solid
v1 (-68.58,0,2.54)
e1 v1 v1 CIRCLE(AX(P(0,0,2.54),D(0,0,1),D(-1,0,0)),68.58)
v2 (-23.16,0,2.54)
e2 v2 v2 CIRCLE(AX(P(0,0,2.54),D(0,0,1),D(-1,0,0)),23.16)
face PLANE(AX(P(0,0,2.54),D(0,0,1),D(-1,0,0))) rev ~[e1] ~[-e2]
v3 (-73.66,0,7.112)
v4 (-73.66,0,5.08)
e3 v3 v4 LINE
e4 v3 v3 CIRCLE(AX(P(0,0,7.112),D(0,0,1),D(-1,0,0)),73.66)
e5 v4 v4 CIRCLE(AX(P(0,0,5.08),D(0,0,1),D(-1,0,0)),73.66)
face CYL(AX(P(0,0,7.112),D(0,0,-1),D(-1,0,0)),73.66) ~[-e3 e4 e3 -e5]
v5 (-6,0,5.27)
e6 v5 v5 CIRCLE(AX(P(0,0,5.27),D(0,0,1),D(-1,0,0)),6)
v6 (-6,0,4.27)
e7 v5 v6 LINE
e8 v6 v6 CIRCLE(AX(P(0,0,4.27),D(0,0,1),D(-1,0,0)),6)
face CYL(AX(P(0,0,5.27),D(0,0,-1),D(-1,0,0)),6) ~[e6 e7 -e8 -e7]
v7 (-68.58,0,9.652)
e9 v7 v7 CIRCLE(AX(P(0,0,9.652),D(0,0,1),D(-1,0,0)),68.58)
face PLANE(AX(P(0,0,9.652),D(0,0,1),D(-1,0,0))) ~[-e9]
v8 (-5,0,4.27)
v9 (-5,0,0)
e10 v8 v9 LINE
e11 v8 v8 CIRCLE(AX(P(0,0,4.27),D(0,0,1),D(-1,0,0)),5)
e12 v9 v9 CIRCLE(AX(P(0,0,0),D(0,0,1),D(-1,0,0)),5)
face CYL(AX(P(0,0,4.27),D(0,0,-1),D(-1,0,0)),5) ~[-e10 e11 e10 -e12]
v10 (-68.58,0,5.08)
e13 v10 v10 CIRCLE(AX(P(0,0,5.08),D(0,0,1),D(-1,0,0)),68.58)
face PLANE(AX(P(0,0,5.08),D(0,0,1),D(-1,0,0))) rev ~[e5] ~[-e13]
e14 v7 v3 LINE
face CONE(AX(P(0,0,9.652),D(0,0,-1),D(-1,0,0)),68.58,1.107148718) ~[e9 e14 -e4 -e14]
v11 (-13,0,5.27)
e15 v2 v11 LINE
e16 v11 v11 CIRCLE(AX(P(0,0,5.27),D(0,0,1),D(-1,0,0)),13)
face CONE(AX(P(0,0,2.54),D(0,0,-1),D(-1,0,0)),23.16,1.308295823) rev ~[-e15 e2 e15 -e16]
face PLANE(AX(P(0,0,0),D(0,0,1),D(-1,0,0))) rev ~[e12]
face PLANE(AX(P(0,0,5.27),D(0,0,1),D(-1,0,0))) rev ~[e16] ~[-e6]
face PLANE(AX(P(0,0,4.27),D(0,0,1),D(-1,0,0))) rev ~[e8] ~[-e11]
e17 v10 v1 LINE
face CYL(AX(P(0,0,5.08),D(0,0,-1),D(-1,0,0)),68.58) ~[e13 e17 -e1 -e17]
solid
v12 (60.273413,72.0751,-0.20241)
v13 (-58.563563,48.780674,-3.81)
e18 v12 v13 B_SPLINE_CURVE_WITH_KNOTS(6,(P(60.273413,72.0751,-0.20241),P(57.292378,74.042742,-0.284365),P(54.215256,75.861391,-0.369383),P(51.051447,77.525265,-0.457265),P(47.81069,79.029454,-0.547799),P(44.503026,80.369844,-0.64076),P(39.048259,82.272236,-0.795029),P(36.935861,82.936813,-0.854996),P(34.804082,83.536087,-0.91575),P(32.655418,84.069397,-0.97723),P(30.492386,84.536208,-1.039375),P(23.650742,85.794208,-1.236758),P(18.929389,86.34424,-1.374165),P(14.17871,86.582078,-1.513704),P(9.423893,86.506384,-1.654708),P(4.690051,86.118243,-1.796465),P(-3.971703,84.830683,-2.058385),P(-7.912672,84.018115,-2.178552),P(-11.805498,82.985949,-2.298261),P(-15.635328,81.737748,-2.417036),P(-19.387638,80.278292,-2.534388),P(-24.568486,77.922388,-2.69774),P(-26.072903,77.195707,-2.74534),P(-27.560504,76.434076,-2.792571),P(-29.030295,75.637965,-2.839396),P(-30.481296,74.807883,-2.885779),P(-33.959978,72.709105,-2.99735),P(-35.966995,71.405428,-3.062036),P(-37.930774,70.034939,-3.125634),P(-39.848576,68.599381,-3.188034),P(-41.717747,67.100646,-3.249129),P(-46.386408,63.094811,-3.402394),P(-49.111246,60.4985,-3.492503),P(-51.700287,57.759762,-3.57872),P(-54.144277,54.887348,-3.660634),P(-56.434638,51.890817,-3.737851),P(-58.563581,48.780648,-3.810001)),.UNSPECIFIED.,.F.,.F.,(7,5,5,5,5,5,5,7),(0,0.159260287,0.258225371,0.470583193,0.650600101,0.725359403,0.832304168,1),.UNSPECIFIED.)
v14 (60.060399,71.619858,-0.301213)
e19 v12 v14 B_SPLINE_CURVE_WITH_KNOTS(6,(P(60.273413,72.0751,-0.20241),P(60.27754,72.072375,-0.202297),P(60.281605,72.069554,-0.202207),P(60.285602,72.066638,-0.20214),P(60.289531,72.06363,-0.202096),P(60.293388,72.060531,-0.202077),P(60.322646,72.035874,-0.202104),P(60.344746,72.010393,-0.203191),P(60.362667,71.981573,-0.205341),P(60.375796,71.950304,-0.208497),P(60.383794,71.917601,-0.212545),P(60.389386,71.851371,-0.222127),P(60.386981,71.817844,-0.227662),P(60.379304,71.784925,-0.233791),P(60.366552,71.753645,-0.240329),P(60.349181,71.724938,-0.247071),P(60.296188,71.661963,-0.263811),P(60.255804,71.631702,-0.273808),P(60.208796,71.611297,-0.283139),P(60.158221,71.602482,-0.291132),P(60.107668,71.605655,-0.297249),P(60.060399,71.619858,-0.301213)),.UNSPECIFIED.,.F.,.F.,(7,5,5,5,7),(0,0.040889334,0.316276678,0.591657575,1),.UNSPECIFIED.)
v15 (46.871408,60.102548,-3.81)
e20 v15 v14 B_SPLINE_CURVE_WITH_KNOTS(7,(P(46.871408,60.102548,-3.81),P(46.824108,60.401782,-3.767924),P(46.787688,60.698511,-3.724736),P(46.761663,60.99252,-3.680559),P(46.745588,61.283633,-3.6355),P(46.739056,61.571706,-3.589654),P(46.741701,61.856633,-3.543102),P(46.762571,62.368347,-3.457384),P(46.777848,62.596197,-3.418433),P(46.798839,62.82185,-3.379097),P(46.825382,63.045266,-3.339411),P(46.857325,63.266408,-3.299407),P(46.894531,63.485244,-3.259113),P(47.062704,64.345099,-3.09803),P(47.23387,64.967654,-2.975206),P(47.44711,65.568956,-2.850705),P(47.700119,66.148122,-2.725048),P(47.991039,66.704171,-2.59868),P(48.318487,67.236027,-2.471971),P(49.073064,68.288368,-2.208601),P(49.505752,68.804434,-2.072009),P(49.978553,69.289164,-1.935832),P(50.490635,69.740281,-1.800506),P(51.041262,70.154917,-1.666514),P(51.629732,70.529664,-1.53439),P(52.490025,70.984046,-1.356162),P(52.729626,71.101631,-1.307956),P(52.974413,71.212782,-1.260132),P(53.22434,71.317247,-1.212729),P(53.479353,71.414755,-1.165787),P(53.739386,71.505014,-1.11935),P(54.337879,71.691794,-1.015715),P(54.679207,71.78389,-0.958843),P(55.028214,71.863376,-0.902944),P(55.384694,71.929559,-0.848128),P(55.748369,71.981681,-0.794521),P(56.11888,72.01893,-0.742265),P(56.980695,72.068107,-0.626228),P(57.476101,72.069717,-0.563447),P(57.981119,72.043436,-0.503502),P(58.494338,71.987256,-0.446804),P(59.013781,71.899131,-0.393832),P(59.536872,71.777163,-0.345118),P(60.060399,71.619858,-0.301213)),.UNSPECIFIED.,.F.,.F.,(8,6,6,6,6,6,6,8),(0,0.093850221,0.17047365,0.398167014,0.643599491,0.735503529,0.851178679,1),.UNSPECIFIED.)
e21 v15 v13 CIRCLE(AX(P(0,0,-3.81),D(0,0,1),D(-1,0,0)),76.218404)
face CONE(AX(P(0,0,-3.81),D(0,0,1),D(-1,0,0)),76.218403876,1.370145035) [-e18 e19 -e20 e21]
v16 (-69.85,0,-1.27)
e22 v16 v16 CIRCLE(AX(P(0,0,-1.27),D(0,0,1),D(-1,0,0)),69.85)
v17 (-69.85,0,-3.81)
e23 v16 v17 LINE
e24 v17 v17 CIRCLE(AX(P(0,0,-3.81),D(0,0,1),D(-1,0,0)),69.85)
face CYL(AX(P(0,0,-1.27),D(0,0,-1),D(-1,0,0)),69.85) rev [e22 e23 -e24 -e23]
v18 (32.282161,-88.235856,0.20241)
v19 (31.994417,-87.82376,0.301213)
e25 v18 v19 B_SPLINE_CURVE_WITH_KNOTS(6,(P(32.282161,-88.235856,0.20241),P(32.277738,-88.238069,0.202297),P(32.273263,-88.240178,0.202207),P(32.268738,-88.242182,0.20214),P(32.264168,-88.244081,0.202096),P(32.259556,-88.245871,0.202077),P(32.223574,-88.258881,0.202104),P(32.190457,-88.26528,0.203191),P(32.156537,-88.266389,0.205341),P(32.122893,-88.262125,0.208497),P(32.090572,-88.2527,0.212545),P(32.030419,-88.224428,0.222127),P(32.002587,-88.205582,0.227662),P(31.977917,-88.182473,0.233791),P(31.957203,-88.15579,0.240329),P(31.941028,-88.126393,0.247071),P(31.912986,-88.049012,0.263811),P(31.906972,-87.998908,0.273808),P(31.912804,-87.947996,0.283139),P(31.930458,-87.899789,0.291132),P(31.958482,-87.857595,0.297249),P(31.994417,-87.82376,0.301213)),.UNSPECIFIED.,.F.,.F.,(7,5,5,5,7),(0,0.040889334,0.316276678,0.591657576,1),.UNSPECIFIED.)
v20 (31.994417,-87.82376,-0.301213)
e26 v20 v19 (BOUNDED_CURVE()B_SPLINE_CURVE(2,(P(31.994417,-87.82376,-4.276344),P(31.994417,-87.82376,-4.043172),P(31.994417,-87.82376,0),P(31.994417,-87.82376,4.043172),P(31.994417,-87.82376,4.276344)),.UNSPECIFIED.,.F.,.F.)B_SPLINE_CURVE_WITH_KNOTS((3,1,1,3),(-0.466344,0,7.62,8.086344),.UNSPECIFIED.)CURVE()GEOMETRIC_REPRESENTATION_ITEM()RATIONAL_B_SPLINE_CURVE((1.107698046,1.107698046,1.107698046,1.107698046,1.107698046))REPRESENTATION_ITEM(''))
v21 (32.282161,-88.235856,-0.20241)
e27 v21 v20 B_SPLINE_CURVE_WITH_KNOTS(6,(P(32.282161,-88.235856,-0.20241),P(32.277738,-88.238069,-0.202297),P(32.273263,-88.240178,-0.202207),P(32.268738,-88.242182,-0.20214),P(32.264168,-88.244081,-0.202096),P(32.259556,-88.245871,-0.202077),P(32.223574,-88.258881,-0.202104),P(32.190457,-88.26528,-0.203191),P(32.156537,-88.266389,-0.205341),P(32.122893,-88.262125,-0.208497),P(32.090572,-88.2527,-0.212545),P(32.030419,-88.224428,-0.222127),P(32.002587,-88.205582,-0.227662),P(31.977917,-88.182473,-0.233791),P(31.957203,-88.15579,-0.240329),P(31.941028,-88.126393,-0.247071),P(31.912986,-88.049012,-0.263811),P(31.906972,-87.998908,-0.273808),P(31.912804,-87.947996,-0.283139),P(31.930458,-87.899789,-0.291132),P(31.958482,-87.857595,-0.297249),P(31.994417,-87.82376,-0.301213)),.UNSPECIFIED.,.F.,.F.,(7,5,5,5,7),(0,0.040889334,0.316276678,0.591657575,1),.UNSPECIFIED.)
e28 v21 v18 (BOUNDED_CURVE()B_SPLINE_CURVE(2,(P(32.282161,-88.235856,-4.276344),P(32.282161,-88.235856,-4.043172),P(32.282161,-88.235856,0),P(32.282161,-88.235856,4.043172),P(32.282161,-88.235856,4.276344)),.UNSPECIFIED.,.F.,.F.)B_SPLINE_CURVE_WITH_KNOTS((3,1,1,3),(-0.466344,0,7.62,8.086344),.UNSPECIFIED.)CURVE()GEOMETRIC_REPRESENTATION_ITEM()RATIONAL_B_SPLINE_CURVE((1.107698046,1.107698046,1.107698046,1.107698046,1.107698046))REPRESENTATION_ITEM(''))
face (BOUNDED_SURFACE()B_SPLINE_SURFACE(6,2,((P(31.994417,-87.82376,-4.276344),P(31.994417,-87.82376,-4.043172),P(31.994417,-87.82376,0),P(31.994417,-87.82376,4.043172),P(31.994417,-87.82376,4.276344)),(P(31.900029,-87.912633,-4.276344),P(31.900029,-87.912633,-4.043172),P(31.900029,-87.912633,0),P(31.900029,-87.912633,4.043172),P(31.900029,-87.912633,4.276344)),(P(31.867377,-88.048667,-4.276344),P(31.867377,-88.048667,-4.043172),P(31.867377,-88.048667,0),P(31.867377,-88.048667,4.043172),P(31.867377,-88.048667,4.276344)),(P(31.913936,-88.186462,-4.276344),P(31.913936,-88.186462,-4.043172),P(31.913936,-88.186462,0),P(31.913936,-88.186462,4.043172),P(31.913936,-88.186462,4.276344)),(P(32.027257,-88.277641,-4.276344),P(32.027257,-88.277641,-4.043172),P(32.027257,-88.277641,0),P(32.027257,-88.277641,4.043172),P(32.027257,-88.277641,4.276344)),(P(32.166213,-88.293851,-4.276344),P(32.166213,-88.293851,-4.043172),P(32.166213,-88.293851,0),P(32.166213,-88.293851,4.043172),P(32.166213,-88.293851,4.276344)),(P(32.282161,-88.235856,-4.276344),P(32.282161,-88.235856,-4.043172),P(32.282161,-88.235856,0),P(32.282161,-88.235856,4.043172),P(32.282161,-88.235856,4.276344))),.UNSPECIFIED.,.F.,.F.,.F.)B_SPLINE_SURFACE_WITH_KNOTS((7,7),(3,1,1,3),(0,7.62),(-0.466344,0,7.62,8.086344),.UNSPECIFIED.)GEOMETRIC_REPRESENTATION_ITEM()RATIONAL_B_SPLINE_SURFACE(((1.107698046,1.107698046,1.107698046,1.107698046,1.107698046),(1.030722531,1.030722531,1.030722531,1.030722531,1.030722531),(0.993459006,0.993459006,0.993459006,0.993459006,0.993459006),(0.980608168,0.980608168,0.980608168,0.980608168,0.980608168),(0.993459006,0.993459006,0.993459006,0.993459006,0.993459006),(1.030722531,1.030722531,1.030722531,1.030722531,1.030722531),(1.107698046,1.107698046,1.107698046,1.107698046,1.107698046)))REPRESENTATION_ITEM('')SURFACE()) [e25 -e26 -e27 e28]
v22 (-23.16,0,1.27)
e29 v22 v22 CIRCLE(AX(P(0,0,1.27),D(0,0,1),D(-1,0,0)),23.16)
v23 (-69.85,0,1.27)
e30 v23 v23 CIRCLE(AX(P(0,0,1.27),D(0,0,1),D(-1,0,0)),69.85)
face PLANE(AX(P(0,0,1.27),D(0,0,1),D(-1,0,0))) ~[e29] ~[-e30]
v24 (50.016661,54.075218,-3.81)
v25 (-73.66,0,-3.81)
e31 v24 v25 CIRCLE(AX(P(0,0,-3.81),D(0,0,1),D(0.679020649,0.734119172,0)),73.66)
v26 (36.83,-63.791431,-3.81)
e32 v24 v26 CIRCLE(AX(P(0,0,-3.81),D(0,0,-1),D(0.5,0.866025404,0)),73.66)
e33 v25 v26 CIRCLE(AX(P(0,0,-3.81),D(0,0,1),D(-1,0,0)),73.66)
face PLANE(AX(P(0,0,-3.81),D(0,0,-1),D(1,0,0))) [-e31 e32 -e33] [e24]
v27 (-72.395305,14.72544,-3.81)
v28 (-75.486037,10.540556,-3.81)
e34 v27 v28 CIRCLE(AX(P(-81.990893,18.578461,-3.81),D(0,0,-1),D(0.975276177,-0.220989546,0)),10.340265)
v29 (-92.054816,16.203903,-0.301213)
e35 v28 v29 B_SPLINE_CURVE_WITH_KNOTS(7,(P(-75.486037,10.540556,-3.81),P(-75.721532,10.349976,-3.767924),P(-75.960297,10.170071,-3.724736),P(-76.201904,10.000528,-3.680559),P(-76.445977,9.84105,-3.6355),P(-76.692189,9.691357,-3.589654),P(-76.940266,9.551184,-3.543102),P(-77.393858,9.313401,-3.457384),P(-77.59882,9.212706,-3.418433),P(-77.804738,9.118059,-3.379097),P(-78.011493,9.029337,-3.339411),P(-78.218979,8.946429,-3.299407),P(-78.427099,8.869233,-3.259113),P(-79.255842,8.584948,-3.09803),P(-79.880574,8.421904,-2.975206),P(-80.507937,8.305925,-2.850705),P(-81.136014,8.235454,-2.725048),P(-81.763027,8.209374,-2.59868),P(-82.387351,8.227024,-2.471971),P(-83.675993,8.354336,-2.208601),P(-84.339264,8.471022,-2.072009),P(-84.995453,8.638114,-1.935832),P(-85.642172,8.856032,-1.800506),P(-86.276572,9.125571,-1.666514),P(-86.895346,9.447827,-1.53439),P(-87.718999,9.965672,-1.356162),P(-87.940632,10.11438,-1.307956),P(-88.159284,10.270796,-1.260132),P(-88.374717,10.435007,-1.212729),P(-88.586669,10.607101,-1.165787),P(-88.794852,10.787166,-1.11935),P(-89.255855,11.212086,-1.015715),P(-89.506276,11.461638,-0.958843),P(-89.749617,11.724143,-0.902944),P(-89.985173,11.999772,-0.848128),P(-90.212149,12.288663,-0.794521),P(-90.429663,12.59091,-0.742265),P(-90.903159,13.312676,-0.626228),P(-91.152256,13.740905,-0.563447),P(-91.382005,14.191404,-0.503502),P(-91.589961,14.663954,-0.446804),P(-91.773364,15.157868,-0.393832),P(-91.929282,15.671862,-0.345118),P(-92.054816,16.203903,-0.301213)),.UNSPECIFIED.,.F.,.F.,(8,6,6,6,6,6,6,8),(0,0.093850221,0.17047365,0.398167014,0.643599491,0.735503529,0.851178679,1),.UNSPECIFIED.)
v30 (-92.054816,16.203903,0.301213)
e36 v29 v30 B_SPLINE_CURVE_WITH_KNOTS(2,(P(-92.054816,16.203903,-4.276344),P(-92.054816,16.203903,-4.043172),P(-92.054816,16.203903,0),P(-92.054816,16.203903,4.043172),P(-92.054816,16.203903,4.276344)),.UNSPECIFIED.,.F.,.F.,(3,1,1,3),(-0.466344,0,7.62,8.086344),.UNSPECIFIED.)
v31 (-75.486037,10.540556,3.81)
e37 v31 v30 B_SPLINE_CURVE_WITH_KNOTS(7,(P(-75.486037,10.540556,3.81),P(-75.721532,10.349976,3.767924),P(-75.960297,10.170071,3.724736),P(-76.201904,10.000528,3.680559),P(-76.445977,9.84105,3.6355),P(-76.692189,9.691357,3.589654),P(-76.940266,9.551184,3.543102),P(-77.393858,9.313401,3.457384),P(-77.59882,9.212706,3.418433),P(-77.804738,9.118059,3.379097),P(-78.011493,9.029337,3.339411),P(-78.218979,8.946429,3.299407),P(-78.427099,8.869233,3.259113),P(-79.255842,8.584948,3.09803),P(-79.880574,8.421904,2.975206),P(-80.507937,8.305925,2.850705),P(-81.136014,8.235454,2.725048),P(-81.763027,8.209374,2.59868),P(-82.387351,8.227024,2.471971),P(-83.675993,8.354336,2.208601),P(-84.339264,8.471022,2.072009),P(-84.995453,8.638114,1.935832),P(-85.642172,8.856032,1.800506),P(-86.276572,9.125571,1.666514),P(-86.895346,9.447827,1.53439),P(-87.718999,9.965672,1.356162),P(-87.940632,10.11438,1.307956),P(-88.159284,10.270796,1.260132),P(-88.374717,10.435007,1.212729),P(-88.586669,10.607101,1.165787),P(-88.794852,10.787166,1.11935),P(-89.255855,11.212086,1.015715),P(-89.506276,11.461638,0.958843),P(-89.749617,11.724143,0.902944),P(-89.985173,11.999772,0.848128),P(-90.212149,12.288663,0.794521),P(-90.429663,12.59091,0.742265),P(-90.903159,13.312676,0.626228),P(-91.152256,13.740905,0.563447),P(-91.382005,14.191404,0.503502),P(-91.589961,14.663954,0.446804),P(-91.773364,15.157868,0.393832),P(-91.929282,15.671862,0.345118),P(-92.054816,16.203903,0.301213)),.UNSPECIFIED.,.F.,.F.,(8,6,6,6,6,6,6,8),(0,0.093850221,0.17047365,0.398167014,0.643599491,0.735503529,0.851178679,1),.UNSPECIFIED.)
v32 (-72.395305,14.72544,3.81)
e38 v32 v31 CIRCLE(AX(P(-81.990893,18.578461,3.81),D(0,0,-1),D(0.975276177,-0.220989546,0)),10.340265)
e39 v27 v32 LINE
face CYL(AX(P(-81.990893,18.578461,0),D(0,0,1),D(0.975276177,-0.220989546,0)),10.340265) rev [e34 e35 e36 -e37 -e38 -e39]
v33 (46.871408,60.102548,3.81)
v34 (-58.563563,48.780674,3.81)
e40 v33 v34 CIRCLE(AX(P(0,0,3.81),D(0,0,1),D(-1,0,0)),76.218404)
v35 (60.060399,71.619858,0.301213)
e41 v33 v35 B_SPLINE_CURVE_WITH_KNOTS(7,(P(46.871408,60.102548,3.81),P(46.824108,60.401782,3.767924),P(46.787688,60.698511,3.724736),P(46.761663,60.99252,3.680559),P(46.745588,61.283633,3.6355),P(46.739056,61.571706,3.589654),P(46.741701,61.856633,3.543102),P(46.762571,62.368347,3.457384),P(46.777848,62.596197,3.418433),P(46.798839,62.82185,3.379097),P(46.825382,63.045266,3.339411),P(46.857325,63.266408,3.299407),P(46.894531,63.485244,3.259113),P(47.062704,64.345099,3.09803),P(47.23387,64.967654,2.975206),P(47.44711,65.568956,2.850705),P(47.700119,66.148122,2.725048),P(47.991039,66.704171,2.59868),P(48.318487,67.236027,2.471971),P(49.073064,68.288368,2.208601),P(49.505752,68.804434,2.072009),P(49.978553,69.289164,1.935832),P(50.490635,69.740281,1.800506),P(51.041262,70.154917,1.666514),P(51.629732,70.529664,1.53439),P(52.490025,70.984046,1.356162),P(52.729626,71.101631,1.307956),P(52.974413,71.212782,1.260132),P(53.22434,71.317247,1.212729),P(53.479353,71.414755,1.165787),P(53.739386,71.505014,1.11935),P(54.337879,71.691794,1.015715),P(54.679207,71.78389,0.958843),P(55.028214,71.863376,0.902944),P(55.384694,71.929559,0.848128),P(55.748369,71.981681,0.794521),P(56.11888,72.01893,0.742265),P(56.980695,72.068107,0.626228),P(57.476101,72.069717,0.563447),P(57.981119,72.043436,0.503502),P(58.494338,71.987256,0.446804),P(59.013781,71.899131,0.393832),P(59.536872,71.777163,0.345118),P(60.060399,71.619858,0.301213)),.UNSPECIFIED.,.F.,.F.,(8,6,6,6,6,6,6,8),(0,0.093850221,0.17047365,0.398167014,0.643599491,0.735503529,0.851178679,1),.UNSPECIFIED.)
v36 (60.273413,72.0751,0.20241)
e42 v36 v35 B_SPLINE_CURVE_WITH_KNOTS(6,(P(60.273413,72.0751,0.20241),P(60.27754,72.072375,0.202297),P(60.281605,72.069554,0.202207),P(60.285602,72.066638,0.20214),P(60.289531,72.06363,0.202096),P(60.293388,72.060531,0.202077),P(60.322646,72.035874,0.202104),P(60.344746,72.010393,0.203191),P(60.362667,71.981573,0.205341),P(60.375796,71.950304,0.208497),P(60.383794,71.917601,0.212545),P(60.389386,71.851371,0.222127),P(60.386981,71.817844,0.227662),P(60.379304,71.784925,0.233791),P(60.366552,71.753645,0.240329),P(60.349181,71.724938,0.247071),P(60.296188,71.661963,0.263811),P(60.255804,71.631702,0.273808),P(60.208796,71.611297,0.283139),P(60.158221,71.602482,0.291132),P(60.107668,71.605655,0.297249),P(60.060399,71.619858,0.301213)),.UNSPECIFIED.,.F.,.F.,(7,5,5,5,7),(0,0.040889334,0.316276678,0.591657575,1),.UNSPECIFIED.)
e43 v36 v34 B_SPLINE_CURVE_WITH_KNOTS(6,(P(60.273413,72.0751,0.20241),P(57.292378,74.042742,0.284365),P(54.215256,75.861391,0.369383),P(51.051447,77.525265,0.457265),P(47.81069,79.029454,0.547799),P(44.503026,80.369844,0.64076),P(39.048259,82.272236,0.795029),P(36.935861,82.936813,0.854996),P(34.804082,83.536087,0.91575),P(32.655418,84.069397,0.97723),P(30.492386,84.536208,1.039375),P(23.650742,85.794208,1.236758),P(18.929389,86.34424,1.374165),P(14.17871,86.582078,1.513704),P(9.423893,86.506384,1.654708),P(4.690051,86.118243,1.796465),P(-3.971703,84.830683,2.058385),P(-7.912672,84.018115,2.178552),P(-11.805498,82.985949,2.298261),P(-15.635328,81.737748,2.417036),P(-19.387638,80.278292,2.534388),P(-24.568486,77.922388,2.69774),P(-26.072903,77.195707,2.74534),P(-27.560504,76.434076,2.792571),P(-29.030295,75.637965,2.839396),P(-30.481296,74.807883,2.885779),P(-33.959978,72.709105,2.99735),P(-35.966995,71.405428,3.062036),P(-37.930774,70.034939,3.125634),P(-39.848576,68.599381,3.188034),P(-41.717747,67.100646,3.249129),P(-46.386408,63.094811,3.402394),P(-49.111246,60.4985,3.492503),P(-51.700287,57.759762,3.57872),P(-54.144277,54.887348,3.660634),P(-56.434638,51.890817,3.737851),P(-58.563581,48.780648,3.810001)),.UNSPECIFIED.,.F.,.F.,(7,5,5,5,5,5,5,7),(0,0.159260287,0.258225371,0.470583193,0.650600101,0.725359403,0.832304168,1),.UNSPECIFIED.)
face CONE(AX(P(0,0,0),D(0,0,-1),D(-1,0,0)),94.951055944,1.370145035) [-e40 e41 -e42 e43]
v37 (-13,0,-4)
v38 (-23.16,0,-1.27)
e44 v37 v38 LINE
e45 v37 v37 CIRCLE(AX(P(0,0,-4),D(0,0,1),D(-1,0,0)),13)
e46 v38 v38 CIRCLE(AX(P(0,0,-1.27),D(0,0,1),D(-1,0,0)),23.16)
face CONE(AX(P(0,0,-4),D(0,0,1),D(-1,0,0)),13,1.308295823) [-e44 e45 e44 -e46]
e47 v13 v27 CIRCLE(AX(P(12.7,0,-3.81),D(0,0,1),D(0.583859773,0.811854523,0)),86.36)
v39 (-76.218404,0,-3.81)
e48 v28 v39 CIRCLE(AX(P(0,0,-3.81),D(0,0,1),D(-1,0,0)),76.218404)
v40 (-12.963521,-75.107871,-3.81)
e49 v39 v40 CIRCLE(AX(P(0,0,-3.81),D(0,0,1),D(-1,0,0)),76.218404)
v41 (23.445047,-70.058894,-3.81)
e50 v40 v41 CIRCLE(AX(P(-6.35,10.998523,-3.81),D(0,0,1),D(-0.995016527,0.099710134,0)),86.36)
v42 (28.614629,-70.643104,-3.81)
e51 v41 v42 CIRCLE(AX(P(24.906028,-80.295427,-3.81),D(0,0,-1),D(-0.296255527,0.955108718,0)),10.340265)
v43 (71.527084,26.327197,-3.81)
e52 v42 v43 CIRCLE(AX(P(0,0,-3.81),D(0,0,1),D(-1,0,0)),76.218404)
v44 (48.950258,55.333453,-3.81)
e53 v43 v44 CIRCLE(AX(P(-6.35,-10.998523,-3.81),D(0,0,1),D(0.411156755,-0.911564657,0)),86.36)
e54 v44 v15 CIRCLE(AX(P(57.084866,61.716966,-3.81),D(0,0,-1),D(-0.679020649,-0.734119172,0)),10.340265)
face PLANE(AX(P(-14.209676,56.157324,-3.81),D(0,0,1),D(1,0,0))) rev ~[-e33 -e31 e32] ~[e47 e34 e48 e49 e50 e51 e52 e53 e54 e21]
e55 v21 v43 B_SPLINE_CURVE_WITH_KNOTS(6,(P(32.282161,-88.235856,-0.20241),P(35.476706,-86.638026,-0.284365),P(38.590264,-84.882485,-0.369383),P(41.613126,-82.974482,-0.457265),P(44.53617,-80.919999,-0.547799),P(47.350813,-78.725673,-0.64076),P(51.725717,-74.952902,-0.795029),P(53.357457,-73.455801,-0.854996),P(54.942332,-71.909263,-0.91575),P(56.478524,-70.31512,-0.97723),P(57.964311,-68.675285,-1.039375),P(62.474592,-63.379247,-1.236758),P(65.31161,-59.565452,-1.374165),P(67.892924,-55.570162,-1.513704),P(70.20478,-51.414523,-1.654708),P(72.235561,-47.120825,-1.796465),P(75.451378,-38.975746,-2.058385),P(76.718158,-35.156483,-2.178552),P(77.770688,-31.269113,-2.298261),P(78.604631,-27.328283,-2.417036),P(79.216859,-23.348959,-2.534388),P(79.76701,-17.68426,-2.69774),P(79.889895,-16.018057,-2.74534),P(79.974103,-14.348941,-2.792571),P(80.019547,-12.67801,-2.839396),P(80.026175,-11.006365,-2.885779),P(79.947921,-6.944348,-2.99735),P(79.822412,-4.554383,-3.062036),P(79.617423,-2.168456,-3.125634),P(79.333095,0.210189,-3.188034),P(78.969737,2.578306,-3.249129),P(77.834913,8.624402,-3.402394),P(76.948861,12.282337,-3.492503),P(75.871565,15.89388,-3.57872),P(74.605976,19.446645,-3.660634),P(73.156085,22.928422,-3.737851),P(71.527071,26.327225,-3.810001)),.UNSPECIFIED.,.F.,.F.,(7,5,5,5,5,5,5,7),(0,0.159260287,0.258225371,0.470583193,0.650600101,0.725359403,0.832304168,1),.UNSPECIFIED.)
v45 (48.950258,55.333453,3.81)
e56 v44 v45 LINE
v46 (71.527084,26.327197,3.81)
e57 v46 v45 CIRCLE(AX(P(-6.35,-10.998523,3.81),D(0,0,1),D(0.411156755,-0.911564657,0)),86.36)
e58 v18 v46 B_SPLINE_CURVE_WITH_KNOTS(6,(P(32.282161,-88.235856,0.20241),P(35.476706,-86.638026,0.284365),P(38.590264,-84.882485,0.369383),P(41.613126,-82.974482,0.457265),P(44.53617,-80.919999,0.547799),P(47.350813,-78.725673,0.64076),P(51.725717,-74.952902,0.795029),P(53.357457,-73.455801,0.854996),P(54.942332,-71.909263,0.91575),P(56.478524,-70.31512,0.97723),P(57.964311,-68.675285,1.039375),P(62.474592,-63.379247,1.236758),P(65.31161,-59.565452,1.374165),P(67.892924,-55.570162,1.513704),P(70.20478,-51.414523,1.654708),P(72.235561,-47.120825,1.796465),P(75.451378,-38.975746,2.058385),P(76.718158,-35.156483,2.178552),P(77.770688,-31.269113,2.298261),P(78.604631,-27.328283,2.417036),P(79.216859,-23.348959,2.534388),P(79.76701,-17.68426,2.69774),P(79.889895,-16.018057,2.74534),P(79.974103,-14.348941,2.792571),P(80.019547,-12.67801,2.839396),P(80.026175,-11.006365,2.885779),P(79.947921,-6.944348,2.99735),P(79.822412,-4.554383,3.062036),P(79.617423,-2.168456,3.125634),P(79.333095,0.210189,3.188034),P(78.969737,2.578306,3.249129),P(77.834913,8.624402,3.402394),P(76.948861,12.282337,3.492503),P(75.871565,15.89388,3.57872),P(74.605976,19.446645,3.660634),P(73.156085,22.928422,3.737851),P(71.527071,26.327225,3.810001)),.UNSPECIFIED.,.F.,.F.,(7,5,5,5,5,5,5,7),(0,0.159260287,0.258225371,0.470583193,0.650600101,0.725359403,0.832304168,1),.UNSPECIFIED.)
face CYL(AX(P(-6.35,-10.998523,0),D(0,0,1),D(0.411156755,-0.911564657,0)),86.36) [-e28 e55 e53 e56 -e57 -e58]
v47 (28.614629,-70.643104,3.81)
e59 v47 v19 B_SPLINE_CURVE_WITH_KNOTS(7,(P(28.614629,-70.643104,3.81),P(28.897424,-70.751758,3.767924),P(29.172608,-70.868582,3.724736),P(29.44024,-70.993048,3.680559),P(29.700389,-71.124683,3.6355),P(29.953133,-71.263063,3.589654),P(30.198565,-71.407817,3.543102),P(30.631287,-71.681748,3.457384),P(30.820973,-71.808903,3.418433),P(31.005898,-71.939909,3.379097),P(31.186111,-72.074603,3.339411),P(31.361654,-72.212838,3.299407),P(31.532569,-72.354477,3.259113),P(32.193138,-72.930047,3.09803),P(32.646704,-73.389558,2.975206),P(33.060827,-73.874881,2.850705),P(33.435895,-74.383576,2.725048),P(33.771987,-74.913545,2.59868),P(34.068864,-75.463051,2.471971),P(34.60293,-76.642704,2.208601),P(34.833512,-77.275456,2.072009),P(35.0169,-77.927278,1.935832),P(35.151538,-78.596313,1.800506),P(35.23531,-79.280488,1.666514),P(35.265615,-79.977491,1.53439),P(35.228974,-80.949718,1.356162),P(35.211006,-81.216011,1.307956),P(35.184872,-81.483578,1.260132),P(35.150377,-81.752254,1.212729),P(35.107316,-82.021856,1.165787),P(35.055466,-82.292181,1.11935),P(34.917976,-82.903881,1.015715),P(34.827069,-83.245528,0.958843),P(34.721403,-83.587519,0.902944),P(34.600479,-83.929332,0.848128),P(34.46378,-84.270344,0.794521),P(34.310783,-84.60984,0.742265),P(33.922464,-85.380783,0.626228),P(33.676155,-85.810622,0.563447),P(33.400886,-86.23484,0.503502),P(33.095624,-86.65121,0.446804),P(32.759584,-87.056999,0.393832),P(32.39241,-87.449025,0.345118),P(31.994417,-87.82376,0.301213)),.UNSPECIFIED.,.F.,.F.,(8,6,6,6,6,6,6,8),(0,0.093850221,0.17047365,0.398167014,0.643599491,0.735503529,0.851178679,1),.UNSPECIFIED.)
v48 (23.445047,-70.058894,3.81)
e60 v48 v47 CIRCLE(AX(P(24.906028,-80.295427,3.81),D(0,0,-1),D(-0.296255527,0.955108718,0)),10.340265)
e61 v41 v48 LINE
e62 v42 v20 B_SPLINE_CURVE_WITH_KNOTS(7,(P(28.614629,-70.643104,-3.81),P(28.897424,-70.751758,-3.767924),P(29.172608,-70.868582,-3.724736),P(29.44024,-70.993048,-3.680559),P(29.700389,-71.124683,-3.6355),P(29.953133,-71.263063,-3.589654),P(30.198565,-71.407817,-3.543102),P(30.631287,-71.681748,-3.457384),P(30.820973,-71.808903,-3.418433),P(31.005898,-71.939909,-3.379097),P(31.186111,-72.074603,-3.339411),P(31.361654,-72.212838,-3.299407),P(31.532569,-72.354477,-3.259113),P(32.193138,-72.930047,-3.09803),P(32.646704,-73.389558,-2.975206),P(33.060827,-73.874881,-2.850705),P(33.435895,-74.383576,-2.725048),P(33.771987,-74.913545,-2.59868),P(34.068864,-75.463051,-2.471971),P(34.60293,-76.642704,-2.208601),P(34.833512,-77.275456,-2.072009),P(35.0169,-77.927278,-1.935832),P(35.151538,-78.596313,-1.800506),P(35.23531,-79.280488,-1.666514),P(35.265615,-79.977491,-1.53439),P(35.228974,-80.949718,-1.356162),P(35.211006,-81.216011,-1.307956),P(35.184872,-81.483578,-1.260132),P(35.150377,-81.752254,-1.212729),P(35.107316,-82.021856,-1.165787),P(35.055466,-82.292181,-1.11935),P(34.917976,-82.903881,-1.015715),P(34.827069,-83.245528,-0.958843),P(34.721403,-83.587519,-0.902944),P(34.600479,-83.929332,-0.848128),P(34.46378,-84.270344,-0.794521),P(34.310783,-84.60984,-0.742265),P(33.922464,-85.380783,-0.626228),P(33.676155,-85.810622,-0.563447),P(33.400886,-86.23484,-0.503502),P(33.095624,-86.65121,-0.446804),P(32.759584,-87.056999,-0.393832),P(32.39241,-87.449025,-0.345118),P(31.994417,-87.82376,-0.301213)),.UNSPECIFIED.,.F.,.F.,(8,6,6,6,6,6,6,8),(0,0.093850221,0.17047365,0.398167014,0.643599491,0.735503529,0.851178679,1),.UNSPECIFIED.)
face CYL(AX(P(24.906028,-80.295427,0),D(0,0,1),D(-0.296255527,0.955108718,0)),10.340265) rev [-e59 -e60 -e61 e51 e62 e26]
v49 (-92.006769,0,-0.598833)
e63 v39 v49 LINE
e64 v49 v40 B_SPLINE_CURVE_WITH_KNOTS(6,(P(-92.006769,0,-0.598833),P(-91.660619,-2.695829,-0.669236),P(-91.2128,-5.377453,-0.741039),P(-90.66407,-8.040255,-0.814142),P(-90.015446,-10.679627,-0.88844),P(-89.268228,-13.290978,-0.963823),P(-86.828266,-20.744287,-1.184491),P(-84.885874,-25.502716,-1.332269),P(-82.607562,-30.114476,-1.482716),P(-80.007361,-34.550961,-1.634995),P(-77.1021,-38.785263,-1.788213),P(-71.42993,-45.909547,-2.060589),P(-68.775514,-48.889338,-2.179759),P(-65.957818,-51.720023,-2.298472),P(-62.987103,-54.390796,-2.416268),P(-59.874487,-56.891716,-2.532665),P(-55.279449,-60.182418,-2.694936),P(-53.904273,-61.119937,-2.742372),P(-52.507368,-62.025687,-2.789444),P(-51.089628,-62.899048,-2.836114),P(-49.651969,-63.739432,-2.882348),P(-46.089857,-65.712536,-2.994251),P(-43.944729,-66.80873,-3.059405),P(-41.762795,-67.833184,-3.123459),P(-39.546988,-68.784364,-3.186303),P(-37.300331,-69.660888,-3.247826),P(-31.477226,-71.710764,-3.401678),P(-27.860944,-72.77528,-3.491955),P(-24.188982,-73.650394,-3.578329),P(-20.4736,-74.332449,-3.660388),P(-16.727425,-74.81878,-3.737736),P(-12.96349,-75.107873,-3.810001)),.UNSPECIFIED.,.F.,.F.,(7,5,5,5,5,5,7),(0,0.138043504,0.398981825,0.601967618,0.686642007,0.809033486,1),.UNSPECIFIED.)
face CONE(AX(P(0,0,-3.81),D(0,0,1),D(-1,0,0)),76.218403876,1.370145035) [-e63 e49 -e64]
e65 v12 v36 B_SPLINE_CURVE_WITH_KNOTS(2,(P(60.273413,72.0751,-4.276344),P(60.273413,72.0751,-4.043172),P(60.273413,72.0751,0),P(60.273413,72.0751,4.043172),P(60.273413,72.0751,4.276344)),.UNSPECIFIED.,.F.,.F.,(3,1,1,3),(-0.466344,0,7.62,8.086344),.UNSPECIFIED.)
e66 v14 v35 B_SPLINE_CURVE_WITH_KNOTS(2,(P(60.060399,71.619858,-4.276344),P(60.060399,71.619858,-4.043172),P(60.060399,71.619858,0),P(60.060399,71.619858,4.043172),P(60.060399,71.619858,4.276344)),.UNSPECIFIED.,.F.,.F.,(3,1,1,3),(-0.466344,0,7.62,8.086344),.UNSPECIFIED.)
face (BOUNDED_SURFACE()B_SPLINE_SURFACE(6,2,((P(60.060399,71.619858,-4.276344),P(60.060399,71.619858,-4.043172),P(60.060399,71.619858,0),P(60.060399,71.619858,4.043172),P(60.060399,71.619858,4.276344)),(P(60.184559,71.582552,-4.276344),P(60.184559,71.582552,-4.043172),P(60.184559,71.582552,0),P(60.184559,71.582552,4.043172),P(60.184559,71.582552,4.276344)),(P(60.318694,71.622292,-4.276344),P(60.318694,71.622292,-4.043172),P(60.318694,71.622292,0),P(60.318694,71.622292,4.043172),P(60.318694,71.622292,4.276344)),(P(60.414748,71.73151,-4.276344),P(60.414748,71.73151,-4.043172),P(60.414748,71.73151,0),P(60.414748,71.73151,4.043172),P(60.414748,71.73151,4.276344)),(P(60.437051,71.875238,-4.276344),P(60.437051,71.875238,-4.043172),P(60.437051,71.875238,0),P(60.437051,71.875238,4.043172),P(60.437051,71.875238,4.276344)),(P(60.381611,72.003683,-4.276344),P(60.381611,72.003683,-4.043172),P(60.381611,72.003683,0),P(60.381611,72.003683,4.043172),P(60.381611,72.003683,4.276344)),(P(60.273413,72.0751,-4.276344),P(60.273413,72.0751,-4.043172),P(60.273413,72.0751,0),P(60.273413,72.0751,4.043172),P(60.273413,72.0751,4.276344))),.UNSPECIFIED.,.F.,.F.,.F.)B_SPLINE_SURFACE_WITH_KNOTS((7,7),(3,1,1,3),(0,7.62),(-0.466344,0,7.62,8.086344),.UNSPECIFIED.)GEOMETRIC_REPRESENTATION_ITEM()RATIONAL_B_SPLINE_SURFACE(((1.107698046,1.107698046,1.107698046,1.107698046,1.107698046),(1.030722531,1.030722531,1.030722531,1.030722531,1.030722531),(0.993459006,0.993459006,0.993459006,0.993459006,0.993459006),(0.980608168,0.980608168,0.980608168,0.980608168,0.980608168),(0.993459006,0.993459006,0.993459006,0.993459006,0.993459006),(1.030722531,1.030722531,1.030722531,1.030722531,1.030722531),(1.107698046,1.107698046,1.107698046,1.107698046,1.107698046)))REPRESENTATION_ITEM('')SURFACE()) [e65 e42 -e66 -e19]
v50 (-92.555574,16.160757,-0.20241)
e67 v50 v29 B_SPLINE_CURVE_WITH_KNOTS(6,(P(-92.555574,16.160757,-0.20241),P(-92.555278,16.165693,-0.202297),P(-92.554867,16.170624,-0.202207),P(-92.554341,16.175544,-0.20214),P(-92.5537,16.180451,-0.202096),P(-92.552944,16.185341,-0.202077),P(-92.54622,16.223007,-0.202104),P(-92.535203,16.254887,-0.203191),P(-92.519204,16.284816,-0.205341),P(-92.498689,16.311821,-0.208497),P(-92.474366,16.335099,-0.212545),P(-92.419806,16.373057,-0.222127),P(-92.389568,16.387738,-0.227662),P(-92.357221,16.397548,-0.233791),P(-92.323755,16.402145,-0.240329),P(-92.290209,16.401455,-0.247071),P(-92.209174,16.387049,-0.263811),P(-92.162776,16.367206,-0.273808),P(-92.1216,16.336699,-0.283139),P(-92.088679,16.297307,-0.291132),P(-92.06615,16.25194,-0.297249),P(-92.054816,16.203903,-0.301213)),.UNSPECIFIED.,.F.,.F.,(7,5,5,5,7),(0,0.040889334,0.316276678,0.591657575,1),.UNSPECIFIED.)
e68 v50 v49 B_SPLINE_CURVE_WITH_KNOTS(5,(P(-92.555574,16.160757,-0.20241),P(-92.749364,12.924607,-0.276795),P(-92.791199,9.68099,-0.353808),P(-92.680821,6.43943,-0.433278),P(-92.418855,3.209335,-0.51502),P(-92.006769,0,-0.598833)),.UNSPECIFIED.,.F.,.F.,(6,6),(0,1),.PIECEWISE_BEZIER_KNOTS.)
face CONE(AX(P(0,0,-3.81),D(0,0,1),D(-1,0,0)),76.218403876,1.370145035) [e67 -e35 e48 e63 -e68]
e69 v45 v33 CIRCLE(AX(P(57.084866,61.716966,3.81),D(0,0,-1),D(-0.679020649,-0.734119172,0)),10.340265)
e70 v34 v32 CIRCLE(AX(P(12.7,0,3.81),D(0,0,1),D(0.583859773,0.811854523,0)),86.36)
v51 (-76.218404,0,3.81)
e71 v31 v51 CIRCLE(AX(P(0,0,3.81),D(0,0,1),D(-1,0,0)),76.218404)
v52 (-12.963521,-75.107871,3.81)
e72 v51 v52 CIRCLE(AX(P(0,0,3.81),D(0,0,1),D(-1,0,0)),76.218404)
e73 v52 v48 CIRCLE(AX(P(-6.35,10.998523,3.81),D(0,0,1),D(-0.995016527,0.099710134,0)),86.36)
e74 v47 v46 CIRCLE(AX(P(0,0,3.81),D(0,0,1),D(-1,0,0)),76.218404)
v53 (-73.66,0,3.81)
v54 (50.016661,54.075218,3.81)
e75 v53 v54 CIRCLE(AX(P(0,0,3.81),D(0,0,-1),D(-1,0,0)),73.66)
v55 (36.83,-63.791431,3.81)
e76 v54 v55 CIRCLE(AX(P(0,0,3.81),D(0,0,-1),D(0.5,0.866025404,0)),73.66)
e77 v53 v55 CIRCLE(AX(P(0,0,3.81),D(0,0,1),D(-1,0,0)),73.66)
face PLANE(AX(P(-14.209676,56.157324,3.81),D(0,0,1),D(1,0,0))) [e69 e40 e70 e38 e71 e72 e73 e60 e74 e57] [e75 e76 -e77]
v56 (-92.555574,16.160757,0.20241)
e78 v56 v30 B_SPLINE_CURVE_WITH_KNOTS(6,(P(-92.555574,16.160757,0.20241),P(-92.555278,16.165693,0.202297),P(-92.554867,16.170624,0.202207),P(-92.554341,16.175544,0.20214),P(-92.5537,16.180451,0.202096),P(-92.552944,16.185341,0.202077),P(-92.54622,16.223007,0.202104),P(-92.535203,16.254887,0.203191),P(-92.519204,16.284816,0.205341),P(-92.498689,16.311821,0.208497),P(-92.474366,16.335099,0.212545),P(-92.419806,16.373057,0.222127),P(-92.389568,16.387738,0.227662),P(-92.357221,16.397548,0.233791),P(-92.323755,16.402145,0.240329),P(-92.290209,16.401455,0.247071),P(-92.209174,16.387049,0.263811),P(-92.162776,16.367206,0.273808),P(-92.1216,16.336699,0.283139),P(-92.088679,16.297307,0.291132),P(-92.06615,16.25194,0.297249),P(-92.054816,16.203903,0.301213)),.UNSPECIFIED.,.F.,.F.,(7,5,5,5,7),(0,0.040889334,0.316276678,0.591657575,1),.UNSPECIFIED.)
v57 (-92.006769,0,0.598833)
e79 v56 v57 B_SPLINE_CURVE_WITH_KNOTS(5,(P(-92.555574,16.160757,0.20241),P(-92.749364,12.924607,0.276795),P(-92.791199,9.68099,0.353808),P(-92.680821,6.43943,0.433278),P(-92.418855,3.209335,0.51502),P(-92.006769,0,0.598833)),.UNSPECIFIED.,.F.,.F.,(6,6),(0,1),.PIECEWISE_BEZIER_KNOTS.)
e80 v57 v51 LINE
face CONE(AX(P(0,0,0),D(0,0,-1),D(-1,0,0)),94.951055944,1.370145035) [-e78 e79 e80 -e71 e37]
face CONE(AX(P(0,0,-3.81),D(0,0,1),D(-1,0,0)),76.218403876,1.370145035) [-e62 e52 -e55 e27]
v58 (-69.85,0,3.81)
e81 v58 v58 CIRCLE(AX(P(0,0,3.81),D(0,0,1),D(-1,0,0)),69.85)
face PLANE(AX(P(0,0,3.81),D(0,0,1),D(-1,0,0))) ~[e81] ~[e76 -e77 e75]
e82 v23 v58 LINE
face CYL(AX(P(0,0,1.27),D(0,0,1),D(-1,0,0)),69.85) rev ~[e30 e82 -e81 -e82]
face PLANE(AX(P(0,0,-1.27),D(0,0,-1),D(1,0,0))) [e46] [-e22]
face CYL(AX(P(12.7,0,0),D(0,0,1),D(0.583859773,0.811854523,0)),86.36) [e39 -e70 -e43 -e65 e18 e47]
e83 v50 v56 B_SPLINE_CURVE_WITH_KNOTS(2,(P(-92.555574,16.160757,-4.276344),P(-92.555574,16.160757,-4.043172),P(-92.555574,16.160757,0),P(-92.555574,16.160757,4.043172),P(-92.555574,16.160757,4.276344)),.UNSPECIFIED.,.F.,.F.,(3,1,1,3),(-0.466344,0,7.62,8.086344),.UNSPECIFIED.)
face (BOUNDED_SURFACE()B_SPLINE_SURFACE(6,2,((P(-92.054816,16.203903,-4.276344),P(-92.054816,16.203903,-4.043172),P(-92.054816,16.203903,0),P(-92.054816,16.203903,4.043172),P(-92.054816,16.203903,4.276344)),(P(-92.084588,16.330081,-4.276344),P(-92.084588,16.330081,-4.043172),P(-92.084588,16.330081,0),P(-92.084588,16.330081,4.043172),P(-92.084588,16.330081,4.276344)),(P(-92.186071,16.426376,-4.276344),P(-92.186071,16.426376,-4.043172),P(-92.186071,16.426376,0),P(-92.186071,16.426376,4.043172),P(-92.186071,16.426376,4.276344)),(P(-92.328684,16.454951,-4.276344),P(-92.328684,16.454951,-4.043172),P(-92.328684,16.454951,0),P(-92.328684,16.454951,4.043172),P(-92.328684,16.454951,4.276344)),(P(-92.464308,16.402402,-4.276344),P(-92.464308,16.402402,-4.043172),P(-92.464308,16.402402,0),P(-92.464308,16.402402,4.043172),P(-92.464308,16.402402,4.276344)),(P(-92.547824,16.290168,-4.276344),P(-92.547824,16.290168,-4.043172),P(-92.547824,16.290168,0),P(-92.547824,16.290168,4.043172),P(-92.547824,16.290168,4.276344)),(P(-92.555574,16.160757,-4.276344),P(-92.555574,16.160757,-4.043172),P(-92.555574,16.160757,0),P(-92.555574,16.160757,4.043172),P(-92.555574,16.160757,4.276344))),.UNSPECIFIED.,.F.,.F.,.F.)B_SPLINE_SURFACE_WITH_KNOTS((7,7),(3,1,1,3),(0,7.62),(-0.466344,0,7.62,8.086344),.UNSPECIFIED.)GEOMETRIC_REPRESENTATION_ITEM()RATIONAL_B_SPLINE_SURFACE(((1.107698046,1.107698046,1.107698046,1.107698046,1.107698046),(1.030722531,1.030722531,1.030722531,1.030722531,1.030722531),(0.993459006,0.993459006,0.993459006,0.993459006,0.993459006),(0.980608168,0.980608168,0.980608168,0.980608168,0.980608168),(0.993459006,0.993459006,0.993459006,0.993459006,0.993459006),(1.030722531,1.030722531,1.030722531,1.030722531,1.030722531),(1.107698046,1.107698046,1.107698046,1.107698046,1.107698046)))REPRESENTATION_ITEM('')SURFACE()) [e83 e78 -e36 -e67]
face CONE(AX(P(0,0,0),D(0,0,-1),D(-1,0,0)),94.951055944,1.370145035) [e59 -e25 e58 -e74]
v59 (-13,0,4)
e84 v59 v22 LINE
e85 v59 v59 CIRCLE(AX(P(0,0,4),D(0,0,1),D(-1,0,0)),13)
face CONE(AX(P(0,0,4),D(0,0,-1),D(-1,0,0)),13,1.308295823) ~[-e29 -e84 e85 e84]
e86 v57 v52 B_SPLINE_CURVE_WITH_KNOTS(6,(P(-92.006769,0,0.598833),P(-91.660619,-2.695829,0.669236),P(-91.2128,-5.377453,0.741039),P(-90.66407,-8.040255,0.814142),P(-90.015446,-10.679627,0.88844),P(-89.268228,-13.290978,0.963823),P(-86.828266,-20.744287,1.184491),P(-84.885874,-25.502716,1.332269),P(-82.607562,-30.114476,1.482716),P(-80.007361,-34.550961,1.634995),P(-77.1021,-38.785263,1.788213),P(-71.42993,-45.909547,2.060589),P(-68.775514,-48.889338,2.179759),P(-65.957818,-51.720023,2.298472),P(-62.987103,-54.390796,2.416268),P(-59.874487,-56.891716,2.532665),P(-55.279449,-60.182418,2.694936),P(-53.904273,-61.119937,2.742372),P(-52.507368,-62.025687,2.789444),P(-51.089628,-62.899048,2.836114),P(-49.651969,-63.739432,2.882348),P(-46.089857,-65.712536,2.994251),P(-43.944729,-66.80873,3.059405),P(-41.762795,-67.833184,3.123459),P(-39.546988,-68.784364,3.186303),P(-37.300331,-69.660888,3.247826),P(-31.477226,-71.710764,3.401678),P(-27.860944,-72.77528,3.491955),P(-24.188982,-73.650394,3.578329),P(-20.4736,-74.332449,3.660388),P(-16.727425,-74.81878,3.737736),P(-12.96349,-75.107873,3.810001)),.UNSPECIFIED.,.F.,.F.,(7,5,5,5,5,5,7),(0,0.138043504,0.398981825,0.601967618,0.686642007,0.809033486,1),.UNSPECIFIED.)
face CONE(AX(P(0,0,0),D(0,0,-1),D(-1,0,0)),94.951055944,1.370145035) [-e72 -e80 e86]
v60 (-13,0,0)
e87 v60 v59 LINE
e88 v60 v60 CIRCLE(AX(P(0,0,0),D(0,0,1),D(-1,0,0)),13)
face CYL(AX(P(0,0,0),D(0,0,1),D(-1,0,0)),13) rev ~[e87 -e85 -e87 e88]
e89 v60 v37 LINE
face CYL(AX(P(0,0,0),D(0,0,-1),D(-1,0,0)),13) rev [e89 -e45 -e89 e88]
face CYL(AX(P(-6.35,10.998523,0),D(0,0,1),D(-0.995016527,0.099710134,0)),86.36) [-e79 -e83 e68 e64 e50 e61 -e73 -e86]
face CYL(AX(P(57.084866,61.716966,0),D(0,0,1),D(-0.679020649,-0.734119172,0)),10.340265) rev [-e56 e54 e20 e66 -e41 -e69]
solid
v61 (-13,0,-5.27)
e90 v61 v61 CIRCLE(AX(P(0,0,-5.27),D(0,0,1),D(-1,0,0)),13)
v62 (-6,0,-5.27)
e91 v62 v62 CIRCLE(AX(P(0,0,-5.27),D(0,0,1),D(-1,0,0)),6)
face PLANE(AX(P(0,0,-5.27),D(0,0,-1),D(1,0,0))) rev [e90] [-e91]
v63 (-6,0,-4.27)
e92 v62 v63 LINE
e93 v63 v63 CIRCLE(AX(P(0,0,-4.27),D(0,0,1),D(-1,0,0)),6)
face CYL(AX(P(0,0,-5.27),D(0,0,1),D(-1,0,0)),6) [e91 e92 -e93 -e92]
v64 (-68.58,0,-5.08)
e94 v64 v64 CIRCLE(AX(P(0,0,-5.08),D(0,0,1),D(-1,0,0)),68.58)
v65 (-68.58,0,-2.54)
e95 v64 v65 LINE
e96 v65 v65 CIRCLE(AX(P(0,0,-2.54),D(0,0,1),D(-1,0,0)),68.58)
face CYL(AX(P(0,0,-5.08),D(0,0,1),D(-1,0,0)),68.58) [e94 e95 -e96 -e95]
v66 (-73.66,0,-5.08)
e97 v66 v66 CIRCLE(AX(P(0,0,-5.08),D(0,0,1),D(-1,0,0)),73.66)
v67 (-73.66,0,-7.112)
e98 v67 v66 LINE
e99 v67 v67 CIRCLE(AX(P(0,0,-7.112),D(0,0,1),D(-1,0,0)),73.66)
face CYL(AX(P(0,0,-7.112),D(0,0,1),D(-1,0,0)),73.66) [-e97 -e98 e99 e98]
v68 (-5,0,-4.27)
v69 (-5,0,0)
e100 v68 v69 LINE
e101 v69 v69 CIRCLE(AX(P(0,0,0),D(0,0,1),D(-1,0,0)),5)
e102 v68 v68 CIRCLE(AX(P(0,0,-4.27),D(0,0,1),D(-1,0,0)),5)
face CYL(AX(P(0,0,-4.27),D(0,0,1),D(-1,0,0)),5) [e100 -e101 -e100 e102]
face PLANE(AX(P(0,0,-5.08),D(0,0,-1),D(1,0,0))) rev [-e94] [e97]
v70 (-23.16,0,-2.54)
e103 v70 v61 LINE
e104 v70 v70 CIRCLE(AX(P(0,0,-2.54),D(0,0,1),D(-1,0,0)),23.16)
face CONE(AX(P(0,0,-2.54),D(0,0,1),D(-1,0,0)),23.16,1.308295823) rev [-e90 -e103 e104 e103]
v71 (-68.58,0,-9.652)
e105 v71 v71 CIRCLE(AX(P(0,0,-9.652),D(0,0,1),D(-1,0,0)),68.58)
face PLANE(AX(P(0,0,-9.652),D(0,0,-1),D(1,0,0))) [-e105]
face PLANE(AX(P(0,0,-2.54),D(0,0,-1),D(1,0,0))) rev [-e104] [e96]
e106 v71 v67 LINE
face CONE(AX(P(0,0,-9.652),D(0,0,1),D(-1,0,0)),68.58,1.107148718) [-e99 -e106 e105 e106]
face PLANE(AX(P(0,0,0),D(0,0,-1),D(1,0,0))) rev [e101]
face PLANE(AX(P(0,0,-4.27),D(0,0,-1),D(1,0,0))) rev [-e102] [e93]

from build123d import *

# Parameters (mm, degrees)
F4_DEPTH = 3.81
F5_COUNT = 3
F6_R     = 0.254
F6_2_R   = 0.254
F6_3_R   = 0.254


with BuildPart() as f1:
    # F0 (on Front) → F1 (revolve)
    with BuildSketch(Plane.XZ):
        Polygon((-73.66, 0), (-13, 0), (-13, 4), (-23.16, 1.27), (-69.85, 1.27), (-69.85, 3.81), (-73.66, 3.81), (-73.66, 1.27), align=None)
    revolve(axis=Axis((0, 0, 0.2920920961), (0, 0, 1)))

    # F2: F1 across face


with BuildPart() as f1_1:
    add(f1.part)
    add(f1.part.mirror(Plane(origin=(0, 0, 0), x_dir=(1, 0, 0), z_dir=(0, 0, -1))))


with BuildPart() as f4:
    # F3 (on Top) → F4 (new body, symmetric)
    with BuildSketch(Plane.XY):
        with BuildLine():
            ThreePointArc((50.0636124905, 54.1259794918), (49.0768492837, 68.2585823105), (63.1221299568, 70.1117565792))
            ThreePointArc((63.1221299568, 70.1117565792), (-26.6928575819, 76.8521461739), (-73.66, 0))
            ThreePointArc((-73.66, 0), (-29.5090524227, 67.4908247476), (50.0166610132, 54.0752181789))
            Line((50.0166610132, 54.0752181789), (50.0636124905, 54.1259794918))
        make_face()
    extrude(amount=F4_DEPTH, both=True)


with BuildPart() as f5_1:
    # F5: instance of F4
    add(f4.part.rotate(Axis((0, 0, 0.2920920961), (0, 0, 1)), 1 * 360 / F5_COUNT))

    # F6#3
    f6_3_edges = [f5_1.edges().sort_by_distance(p)[0] for p in [
        (-92.279627, 19.60949, 0),
    ]]
    fillet(f6_3_edges, radius=F6_3_R)


with BuildPart() as f5_2:
    # F5: instance of F4
    add(f4.part.rotate(Axis((0, 0, 0.2920920961), (0, 0, 1)), 2 * 360 / F5_COUNT))

    # F6
    f6_edges = [f5_2.edges().sort_by_distance(p)[0] for p in [
        (29.157497, -89.721246, 0),
    ]]
    fillet(f6_edges, radius=F6_R)


with BuildPart() as f4_1:
    add(f4.part)

    # F6#2
    f6_2_edges = [f4_1.edges().sort_by_distance(p)[0] for p in [
        (63.12213, 70.111757, 0),
    ]]
    fillet(f6_2_edges, radius=F6_2_R)

    # F7: union F5_1, F5_2, F1
    add(f5_1.part)
    add(f5_2.part)
    add(f1_1.part)

    # F8 (on Front) → F9 (revolve, cut)
    with BuildSketch(Plane.XZ):
        Polygon((-94.951055944, 0), (-76.2184038758, 3.81), (-94.951055944, 3.81), align=None)
        Polygon((-76.2184038758, -3.81), (-94.951055944, 0), (-94.951055944, -3.81), align=None)
    revolve(axis=Axis((0, 0, 0.2920920961), (0, 0, 1)), mode=Mode.SUBTRACT)


with BuildPart() as f11:
    # F10 (on Front) → F11 (revolve)
    with BuildSketch(Plane.XZ):
        Polygon((-73.66, 7.112), (-73.66, 5.08), (-68.58, 5.08), (-68.58, 2.54), (-23.16, 2.54), (-13, 5.27), (-6, 5.27), (-6, 4.27), (-5, 4.27), (-5, 0), (0, 0), (0, 9.652), (-68.58, 9.652), align=None)
    revolve(axis=Axis((0, 0, 0.2920920961), (0, 0, 1)))


with BuildPart() as f12_1:
    # F12: instance of F11
    add(f11.part.mirror(Plane(origin=(0, 0, 0), x_dir=(1, 0, 0), z_dir=(0, 0, -1))))


solid = Compound([f4_1.part, f11.part, f12_1.part])
